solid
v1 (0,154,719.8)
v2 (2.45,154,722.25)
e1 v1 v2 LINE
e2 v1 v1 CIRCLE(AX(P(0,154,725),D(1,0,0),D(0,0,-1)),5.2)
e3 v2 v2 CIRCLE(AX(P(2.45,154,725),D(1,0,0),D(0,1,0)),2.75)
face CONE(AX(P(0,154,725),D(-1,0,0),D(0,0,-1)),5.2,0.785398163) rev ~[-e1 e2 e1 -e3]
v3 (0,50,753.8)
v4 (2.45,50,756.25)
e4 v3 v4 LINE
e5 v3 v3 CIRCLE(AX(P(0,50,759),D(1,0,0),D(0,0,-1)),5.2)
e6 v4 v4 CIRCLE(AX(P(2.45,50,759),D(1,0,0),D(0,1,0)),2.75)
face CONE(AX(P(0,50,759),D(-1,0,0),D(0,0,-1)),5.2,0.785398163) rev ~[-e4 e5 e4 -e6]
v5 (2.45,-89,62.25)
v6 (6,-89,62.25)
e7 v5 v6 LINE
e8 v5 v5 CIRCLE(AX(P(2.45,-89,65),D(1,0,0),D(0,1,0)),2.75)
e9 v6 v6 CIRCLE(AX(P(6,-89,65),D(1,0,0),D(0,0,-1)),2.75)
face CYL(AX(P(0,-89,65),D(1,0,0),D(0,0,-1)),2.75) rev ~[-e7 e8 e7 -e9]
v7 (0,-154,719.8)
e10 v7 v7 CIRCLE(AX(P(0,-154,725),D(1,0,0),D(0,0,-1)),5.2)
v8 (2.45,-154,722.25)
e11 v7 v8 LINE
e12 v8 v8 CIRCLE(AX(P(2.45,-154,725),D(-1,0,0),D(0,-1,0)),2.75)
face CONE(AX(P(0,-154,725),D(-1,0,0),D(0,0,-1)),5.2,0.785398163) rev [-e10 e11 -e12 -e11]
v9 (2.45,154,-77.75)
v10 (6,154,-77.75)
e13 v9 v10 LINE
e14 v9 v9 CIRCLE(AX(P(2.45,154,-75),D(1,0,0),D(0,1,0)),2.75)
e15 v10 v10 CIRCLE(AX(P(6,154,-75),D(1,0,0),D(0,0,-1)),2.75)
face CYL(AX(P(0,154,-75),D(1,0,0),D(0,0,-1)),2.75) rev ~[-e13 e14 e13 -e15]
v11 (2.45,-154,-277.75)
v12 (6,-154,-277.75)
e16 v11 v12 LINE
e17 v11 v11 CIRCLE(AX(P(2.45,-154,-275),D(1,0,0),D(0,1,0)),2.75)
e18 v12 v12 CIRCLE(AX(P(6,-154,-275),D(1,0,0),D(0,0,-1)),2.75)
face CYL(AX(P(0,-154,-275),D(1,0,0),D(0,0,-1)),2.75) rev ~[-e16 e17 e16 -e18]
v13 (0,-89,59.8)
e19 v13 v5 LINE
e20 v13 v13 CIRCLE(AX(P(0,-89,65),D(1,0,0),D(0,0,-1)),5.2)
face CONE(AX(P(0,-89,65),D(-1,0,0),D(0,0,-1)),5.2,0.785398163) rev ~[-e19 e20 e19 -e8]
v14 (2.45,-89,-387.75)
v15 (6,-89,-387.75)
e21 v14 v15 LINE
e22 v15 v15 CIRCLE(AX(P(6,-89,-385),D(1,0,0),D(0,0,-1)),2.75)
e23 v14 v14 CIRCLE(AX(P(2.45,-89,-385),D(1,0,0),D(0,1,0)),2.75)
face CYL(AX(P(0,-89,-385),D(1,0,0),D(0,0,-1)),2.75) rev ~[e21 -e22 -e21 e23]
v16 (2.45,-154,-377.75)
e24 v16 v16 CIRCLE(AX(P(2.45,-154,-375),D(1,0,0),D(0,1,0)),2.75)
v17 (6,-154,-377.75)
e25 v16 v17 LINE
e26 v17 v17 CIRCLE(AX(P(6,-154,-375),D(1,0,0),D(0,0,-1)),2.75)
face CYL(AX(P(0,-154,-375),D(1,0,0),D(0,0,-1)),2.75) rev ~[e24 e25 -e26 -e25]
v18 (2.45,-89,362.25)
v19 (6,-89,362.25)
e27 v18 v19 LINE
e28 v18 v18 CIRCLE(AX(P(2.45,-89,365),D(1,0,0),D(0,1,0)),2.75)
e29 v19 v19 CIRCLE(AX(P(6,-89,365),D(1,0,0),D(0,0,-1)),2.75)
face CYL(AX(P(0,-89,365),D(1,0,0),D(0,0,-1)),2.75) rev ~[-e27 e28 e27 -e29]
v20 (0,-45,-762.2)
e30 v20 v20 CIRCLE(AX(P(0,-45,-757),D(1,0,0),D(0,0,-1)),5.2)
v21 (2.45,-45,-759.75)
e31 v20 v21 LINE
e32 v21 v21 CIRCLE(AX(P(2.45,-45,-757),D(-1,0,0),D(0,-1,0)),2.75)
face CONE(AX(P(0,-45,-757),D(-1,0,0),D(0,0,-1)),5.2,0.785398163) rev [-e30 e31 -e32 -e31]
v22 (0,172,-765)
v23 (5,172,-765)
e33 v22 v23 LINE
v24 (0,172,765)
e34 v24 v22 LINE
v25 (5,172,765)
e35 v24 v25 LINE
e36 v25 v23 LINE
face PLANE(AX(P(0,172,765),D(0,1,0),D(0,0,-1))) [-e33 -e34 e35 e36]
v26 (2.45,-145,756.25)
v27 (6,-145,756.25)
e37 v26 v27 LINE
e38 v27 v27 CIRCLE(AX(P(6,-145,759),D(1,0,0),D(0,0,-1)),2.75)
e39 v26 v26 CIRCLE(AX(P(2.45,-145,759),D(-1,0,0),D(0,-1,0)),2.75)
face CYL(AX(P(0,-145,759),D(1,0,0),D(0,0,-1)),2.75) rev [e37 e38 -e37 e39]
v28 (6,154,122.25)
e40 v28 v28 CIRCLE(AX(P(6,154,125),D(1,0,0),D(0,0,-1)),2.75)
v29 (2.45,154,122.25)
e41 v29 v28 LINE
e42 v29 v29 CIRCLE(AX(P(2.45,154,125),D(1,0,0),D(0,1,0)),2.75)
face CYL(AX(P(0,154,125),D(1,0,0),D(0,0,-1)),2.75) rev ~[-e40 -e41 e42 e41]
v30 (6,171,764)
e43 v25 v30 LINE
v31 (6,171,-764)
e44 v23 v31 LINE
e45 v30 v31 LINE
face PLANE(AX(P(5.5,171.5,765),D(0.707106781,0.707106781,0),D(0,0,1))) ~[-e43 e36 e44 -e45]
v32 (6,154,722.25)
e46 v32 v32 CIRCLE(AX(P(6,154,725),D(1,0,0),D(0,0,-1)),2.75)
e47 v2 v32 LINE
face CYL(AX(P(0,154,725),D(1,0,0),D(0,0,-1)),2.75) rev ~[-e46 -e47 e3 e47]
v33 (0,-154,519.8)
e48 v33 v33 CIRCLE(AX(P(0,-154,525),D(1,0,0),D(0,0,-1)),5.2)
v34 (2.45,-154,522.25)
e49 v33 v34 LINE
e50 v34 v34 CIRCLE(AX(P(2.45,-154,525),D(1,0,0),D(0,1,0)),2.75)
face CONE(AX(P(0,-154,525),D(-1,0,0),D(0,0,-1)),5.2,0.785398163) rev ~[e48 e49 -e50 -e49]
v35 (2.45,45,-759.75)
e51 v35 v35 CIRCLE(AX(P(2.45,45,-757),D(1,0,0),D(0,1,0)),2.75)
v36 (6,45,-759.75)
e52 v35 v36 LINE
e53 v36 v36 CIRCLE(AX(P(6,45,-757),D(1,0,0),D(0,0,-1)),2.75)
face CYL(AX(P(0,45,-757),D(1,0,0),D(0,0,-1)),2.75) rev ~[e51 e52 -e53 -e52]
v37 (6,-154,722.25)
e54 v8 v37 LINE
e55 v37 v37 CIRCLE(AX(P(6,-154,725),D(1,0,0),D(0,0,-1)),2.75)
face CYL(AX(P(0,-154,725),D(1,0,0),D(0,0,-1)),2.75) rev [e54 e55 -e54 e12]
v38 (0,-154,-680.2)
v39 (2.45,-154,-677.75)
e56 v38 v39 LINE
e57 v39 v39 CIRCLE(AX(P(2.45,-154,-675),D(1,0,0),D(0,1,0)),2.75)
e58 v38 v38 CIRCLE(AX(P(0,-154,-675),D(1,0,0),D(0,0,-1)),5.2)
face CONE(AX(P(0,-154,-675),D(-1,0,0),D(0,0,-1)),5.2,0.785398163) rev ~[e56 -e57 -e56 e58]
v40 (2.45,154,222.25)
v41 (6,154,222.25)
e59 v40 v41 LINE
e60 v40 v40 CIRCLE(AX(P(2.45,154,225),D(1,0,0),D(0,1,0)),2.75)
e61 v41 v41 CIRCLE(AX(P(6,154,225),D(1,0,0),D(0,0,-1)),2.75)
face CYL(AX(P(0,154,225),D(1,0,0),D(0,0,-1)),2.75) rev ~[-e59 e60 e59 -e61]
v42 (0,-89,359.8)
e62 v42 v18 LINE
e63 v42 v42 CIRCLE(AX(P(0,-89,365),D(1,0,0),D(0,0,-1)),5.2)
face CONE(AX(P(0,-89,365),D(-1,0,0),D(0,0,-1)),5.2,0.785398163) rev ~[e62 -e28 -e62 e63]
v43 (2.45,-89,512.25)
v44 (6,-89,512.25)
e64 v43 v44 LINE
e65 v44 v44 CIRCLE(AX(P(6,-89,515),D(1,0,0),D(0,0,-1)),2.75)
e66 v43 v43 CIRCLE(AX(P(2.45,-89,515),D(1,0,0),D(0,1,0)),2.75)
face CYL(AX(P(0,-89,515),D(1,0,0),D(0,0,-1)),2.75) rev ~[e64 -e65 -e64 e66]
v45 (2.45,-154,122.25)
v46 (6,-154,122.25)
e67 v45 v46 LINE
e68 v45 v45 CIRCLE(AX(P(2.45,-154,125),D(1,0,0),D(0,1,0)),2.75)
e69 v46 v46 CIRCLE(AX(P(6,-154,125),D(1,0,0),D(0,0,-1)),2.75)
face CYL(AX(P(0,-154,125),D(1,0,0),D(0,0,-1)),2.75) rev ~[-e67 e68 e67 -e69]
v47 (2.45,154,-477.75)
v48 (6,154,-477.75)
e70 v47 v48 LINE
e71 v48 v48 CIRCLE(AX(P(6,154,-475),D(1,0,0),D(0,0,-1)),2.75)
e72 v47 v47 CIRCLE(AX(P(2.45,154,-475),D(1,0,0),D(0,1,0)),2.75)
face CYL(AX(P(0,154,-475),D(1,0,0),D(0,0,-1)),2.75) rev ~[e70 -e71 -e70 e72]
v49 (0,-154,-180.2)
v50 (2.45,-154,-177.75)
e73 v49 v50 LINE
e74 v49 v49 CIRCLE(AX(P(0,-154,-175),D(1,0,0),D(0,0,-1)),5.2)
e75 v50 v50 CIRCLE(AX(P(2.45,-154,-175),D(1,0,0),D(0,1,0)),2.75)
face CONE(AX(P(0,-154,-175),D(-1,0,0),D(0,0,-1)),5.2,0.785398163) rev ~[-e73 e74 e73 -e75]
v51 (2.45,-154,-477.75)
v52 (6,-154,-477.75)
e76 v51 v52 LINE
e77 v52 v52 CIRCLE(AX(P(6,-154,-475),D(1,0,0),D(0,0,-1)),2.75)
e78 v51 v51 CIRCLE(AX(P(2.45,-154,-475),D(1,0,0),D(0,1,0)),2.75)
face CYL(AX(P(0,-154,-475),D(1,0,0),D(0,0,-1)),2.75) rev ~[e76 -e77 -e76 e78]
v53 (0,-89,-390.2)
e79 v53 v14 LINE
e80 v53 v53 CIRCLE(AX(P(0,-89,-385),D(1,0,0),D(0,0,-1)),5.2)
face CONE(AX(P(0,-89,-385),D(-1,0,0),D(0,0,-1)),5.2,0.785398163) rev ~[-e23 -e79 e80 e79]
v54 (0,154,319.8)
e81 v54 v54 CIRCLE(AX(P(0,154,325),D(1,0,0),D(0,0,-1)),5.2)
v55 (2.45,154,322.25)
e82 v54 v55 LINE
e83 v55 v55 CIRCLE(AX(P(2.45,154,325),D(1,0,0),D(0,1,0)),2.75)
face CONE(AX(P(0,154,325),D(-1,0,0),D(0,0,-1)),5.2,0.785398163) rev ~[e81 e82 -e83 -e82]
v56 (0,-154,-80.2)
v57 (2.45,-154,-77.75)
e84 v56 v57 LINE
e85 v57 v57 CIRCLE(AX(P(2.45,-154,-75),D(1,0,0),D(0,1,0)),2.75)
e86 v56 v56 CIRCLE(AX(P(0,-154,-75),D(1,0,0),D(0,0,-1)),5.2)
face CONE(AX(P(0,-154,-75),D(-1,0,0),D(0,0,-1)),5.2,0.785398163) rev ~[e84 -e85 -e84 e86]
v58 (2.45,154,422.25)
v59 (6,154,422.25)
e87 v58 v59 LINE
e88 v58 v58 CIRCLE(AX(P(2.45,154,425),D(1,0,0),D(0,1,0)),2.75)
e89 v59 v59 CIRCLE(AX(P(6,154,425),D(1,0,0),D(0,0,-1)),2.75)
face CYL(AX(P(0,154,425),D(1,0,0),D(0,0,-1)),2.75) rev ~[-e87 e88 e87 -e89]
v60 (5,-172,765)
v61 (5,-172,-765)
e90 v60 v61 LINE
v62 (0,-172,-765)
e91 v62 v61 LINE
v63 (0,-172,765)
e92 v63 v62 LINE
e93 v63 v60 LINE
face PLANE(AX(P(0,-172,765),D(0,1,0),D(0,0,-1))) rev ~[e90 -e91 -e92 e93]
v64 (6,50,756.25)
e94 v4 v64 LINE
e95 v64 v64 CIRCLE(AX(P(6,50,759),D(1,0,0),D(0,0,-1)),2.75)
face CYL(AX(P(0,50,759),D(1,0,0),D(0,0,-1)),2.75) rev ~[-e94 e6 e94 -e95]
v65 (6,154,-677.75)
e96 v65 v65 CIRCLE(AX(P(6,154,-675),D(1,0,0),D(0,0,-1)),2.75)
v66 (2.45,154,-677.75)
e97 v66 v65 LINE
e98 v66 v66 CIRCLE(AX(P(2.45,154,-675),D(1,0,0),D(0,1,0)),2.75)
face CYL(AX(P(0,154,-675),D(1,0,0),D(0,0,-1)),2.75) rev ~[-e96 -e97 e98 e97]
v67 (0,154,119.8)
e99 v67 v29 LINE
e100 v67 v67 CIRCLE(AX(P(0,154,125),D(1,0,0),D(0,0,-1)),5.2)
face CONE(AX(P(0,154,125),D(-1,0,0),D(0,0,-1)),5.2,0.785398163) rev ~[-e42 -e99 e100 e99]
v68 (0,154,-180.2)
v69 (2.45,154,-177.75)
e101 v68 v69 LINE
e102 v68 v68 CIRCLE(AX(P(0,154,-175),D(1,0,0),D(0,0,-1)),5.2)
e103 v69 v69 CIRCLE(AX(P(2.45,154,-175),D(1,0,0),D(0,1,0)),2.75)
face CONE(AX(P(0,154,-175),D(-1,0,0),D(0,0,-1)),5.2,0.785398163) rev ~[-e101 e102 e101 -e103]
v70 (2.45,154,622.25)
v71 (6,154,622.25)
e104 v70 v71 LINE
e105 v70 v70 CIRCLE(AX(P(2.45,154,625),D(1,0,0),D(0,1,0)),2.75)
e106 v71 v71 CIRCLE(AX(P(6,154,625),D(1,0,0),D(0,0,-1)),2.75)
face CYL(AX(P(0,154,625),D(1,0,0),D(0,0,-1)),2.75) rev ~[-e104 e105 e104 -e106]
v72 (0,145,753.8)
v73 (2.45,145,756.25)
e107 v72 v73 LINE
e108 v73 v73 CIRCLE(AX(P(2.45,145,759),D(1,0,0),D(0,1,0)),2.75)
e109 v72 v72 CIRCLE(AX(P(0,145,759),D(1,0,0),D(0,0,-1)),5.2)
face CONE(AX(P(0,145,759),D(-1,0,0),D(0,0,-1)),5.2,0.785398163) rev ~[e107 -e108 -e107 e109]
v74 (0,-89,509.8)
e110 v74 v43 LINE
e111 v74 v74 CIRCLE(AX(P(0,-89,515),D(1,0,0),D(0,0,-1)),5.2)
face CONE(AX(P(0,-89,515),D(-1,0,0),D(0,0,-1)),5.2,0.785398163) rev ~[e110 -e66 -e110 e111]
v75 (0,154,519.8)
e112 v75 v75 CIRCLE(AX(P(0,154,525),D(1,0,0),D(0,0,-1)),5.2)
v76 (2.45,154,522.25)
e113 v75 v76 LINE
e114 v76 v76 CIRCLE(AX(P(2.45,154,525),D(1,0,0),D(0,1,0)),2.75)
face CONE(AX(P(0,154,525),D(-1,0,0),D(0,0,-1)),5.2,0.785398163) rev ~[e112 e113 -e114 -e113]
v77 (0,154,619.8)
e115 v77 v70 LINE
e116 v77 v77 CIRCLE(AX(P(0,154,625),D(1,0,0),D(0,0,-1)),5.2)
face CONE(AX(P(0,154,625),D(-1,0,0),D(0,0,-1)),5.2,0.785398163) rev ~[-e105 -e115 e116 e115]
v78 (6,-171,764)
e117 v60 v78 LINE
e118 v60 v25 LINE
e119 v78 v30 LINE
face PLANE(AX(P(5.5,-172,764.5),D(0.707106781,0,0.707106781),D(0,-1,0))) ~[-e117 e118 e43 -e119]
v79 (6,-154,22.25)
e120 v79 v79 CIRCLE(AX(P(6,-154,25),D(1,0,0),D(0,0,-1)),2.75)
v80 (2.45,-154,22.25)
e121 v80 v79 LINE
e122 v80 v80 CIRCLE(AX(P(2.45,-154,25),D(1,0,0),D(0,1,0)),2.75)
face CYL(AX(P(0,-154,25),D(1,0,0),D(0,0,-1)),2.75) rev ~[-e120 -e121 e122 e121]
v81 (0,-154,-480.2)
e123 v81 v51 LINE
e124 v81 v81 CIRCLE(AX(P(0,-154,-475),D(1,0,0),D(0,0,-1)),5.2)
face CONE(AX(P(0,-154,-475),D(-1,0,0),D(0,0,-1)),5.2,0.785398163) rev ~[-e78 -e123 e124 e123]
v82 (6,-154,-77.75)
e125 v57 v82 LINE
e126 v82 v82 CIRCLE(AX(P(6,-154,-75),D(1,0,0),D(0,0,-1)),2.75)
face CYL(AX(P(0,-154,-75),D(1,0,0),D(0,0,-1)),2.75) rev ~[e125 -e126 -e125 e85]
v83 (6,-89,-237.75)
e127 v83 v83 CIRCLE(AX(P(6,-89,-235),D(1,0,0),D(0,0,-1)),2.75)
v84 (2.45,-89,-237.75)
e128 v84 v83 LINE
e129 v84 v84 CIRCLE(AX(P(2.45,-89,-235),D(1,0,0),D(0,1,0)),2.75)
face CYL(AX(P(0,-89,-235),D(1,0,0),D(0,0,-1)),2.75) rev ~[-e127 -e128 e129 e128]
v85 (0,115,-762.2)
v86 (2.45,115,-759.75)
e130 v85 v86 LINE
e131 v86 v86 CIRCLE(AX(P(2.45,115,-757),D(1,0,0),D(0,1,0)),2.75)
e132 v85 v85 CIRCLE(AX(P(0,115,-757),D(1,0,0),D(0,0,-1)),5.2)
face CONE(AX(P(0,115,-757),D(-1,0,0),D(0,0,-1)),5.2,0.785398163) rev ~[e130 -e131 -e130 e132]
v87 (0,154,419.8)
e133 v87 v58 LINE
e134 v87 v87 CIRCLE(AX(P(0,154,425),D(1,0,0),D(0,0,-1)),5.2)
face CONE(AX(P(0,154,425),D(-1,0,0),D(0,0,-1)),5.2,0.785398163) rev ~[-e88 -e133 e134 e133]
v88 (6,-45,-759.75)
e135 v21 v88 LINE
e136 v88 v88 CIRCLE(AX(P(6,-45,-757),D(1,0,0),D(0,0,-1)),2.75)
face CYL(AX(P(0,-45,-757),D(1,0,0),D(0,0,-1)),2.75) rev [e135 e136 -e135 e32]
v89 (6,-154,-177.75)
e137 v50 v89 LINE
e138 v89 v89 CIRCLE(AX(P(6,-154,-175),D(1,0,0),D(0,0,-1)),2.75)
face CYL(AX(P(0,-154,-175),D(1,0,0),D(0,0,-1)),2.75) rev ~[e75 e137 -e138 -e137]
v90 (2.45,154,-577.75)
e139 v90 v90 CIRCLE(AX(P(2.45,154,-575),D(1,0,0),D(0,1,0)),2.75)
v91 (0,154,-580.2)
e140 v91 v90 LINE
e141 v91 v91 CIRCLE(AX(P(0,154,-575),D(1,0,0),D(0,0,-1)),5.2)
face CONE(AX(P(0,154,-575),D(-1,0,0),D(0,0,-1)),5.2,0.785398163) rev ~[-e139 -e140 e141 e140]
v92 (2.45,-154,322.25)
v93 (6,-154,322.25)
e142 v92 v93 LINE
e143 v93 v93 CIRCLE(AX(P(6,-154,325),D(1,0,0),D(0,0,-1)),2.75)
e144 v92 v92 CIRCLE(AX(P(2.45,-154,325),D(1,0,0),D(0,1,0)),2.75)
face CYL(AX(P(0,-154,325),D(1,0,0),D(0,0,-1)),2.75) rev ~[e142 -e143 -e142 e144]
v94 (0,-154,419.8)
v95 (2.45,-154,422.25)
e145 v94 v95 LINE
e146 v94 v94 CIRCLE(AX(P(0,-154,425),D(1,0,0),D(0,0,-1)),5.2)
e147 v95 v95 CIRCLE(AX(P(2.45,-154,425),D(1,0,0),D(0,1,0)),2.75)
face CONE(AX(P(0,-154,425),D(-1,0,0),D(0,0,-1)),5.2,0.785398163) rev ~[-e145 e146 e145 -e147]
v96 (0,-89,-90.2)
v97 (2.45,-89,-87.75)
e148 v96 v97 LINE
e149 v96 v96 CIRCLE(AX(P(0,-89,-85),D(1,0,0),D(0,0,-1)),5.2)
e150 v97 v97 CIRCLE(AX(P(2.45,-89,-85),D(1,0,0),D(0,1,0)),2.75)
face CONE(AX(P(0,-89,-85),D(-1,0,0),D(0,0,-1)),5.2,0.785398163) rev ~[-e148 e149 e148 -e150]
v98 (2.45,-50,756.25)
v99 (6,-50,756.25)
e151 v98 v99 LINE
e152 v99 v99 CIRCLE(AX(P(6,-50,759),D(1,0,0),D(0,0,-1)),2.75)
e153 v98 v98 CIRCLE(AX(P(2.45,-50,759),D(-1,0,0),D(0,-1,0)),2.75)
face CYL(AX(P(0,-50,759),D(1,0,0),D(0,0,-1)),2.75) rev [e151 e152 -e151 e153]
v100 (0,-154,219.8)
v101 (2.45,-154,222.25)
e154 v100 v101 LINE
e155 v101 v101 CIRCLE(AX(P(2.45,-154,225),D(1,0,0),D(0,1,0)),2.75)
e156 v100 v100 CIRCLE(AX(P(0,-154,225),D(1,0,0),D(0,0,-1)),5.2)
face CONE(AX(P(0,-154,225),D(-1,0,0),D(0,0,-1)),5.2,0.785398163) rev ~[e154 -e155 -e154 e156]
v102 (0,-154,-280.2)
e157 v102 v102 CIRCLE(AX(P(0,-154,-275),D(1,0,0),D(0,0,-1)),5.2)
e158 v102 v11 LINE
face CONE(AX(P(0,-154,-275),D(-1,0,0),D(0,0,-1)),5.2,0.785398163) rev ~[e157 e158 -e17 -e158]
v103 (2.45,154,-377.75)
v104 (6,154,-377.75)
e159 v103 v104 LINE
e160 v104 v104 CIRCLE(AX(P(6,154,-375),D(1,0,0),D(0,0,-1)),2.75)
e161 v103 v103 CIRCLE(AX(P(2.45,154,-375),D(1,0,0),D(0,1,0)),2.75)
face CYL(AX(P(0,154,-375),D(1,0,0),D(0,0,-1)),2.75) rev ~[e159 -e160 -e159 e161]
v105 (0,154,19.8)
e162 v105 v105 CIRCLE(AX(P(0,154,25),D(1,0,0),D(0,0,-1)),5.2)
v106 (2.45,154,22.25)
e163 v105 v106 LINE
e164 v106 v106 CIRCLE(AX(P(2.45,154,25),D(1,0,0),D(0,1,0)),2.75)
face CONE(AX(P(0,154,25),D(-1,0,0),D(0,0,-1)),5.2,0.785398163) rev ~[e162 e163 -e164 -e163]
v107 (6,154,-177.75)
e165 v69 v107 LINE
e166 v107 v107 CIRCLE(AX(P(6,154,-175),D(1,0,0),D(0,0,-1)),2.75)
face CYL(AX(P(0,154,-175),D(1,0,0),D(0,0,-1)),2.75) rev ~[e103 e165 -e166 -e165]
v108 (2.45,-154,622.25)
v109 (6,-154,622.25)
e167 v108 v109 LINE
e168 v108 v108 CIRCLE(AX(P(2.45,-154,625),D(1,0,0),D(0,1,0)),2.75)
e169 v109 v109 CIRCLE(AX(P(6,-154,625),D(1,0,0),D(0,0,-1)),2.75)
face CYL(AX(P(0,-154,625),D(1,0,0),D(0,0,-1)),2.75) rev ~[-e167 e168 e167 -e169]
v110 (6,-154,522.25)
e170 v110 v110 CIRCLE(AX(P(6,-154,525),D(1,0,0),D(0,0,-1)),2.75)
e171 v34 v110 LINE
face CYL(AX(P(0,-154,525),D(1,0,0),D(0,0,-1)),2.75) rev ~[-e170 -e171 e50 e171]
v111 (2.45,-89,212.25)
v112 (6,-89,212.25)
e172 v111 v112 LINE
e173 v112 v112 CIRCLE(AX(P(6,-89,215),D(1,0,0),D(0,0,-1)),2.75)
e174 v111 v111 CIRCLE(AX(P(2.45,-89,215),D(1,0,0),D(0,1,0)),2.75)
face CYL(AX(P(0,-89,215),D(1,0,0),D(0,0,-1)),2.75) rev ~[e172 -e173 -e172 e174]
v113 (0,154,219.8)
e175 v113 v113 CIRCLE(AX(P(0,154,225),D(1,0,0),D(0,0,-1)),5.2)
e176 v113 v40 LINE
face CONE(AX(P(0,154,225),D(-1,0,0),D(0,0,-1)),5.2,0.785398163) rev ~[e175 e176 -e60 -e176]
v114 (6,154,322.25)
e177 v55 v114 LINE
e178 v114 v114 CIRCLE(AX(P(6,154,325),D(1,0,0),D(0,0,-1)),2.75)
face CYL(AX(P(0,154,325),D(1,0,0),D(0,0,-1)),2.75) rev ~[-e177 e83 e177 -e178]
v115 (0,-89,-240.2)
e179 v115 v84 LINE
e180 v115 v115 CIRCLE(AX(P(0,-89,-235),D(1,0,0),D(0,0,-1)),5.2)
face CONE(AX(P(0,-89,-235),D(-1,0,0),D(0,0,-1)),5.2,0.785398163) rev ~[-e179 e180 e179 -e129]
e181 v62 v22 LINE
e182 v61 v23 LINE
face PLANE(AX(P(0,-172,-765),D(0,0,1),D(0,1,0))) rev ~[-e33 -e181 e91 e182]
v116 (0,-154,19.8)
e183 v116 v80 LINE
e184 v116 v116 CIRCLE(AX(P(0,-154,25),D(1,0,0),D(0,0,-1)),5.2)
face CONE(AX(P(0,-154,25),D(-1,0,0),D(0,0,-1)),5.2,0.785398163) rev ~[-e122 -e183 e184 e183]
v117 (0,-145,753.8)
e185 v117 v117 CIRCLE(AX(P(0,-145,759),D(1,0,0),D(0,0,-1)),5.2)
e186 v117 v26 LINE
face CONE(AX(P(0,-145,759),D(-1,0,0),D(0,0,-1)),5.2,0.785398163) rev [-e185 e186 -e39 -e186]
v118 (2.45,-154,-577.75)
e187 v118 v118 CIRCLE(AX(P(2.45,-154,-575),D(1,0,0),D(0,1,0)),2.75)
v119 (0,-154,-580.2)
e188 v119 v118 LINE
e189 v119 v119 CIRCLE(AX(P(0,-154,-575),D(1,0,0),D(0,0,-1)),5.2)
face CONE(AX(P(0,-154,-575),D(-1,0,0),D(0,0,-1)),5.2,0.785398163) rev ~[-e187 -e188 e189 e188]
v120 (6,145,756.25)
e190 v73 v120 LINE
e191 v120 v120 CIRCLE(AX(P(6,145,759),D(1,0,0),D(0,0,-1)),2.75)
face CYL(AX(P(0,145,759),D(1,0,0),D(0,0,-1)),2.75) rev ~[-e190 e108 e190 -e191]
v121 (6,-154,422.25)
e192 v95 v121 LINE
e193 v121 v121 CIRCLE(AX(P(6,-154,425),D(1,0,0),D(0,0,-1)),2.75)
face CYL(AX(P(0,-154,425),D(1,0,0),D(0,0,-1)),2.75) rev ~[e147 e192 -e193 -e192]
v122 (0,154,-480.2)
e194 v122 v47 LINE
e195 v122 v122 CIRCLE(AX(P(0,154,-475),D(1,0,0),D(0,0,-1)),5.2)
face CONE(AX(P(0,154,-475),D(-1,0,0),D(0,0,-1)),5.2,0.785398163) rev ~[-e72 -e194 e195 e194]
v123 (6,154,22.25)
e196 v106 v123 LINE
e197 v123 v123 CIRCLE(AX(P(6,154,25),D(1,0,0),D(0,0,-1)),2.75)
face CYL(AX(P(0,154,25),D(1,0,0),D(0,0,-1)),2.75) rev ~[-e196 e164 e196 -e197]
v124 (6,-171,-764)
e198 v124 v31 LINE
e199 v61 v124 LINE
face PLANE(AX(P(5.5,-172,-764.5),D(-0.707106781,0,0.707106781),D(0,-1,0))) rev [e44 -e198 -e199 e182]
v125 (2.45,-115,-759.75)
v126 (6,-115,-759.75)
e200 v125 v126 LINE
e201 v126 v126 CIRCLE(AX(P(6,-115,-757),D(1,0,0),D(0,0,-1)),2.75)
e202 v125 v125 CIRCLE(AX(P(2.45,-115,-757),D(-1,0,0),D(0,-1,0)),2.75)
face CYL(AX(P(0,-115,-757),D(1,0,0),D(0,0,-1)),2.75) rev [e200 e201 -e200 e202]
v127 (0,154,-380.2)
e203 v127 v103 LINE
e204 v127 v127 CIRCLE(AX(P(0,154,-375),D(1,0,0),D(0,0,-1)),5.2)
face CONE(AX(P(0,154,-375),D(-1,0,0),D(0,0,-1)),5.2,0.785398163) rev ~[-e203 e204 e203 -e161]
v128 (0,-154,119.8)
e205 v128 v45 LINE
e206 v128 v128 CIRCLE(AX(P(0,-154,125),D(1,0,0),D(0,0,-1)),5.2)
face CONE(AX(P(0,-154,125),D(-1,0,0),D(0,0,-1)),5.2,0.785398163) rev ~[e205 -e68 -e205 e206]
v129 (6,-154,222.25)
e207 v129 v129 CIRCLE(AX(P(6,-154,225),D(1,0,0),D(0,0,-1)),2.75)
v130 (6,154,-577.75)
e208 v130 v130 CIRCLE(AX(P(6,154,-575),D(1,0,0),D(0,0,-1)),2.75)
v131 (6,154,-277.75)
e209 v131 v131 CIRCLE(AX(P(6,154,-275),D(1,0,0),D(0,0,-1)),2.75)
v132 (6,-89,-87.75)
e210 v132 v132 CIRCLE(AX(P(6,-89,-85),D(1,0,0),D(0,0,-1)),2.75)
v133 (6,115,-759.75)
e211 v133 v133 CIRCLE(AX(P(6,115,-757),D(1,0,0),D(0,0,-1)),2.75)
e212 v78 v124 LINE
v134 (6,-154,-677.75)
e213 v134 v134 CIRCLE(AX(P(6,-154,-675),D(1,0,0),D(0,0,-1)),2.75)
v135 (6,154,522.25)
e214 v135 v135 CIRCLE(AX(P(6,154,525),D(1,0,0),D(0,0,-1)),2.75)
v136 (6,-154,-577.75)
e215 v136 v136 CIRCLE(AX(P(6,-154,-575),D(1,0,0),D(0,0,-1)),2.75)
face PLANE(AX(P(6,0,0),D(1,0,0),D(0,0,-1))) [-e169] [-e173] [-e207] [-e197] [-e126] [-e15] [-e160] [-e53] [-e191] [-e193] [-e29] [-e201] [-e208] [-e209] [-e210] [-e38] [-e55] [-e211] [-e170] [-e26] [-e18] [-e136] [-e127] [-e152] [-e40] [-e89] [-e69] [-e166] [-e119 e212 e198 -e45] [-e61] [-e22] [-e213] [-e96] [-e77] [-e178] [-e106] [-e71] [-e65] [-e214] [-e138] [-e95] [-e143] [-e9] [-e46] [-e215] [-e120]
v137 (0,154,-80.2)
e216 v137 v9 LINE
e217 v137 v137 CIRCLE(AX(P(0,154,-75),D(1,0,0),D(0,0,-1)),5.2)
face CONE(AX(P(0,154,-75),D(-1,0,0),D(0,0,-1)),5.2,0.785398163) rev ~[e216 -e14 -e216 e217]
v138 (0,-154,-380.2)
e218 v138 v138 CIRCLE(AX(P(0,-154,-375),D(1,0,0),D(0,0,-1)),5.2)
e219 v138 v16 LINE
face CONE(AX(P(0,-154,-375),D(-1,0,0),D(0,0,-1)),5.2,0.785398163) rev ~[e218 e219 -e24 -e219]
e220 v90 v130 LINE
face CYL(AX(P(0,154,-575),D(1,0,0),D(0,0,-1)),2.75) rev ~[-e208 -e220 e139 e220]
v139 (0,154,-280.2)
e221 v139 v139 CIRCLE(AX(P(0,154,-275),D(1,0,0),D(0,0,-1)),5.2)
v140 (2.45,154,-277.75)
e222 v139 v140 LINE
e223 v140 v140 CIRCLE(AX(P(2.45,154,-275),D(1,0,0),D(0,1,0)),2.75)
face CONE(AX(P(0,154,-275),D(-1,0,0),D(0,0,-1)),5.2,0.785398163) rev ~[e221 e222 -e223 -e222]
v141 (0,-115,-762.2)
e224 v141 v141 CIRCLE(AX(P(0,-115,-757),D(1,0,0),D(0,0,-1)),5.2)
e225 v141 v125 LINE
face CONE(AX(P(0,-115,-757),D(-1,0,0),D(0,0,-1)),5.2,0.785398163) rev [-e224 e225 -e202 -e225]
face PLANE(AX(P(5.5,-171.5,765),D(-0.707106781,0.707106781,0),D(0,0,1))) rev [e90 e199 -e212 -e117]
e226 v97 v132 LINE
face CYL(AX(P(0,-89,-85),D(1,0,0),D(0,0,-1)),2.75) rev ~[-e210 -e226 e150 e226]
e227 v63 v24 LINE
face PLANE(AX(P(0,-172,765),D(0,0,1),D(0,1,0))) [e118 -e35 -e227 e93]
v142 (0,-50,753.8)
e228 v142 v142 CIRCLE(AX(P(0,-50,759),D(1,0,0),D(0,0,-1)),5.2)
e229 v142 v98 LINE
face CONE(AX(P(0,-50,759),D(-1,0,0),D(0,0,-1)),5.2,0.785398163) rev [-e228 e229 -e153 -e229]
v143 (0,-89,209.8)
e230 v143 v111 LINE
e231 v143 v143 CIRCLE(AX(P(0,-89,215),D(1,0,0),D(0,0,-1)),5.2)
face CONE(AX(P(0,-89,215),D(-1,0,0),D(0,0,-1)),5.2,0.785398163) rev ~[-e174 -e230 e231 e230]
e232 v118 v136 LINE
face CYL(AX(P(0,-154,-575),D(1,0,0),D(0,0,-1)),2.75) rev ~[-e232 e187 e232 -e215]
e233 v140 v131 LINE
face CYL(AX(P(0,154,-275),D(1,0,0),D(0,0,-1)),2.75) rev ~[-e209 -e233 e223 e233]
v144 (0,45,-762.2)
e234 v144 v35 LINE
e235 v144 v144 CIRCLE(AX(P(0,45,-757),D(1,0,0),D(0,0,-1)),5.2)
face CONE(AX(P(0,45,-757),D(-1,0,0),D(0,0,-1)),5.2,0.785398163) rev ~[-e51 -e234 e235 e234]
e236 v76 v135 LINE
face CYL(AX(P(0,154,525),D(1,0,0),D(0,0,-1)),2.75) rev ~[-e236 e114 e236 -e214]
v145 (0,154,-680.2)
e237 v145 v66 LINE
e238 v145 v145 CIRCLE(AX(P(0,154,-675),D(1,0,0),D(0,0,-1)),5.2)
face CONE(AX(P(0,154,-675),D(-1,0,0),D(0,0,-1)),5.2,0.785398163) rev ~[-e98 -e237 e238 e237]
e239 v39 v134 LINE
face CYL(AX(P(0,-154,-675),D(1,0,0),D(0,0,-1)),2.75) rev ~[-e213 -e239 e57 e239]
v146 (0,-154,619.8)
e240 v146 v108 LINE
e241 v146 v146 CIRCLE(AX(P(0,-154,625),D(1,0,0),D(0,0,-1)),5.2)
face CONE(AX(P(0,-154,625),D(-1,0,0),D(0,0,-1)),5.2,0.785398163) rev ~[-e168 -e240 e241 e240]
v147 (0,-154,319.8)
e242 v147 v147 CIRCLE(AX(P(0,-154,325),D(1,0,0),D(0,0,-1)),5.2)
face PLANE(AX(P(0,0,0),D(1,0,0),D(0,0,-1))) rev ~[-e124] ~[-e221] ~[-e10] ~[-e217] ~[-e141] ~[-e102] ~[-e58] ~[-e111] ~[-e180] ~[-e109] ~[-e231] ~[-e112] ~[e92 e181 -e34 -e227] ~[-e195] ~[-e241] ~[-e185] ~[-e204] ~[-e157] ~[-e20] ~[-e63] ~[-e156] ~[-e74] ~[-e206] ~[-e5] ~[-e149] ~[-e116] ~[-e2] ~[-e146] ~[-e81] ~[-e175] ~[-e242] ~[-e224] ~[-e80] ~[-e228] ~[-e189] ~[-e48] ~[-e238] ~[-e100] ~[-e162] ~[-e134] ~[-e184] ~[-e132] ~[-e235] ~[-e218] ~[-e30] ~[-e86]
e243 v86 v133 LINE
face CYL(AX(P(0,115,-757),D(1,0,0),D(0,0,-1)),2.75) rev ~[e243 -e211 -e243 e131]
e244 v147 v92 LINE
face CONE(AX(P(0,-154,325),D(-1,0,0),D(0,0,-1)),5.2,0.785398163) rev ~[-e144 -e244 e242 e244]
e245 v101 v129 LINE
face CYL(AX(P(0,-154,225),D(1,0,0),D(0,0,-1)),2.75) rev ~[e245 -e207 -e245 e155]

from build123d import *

# Parameters (mm, degrees)
SKETCH1_W                                            = 1530
SKETCH1_H                                            = 344
BOSS_EXTRUDE1_DEPTH                                  = 6
FASE1_SIZE                                           = 1
CSK_FOR_M5_COUNTERSUNK_RAISED_HEAD_SCREW_D           = 5.5
CSK_FOR_M5_COUNTERSUNK_RAISED_HEAD_SCREW_CSINK_D     = 10.4
CSK_FOR_M5_COUNTERSUNK_RAISED_HEAD_SCREW_CSINK_ANGLE = 90
CSK_FOR_M5_COUNTERSUNK_RAISED_HEAD_S_2_D             = 5.5
CSK_FOR_M5_COUNTERSUNK_RAISED_HEAD_S_2_CSINK_D       = 10.4
CSK_FOR_M5_COUNTERSUNK_RAISED_HEAD_S_2_CSINK_ANGLE   = 90
LPATTERN1_COUNT                                      = 15
LPATTERN1_PITCH                                      = 100
SPIEGELN1_COPY_1_D                                   = 5.5
SPIEGELN1_COPY_1_CSINK_D                             = 10.4
SPIEGELN1_COPY_1_CSINK_ANGLE                         = 90
SPIEGELN1_COPY_2_D                                   = 5.5
SPIEGELN1_COPY_2_CSINK_D                             = 10.4
SPIEGELN1_COPY_2_CSINK_ANGLE                         = 90
SPIEGELN1_COPY_3_D                                   = 5.5
SPIEGELN1_COPY_3_CSINK_D                             = 10.4
SPIEGELN1_COPY_3_CSINK_ANGLE                         = 90
SPIEGELN1_COPY_4_D                                   = 5.5
SPIEGELN1_COPY_4_CSINK_D                             = 10.4
SPIEGELN1_COPY_4_CSINK_ANGLE                         = 90
SPIEGELN1_COPY_5_D                                   = 5.5
SPIEGELN1_COPY_5_CSINK_D                             = 10.4
SPIEGELN1_COPY_5_CSINK_ANGLE                         = 90
SPIEGELN1_COPY_6_D                                   = 5.5
SPIEGELN1_COPY_6_CSINK_D                             = 10.4
SPIEGELN1_COPY_6_CSINK_ANGLE                         = 90
SPIEGELN1_COPY_7_D                                   = 5.5
SPIEGELN1_COPY_7_CSINK_D                             = 10.4
SPIEGELN1_COPY_7_CSINK_ANGLE                         = 90
SPIEGELN1_COPY_8_D                                   = 5.5
SPIEGELN1_COPY_8_CSINK_D                             = 10.4
SPIEGELN1_COPY_8_CSINK_ANGLE                         = 90
SPIEGELN1_COPY_9_D                                   = 5.5
SPIEGELN1_COPY_9_CSINK_D                             = 10.4
SPIEGELN1_COPY_9_CSINK_ANGLE                         = 90
SPIEGELN1_COPY_10_D                                  = 5.5
SPIEGELN1_COPY_10_CSINK_D                            = 10.4
SPIEGELN1_COPY_10_CSINK_ANGLE                        = 90
SPIEGELN1_COPY_11_D                                  = 5.5
SPIEGELN1_COPY_11_CSINK_D                            = 10.4
SPIEGELN1_COPY_11_CSINK_ANGLE                        = 90
SPIEGELN1_COPY_12_D                                  = 5.5
SPIEGELN1_COPY_12_CSINK_D                            = 10.4
SPIEGELN1_COPY_12_CSINK_ANGLE                        = 90
SPIEGELN1_COPY_13_D                                  = 5.5
SPIEGELN1_COPY_13_CSINK_D                            = 10.4
SPIEGELN1_COPY_13_CSINK_ANGLE                        = 90
SPIEGELN1_COPY_14_D                                  = 5.5
SPIEGELN1_COPY_14_CSINK_D                            = 10.4
SPIEGELN1_COPY_14_CSINK_ANGLE                        = 90
CSK_FOR_M5_COUNTERSUNK_RAISED_HEAD_S_3_D             = 5.5
CSK_FOR_M5_COUNTERSUNK_RAISED_HEAD_S_3_CSINK_D       = 10.4
CSK_FOR_M5_COUNTERSUNK_RAISED_HEAD_S_3_CSINK_ANGLE   = 90
LINEARES_MUSTER1_COUNT                               = 7
LINEARES_MUSTER1_PITCH                               = 150


with BuildPart() as part:
    # Sketch1 → Boss-Extrude1 (new body)
    with BuildSketch(Plane(origin=(0, 0, 0), x_dir=(0, 0, -1), z_dir=(1, 0, 0))):
        Rectangle(SKETCH1_W, SKETCH1_H)
    extrude(amount=BOSS_EXTRUDE1_DEPTH)

    # Fase1
    fase1_edges = [part.edges().sort_by_distance(p)[0] for p in [
        (6, 0, -765),
        (6, 172, 0),
        (6, 0, 765),
        (6, -172, 0),
    ]]
    chamfer(fase1_edges, length=FASE1_SIZE)

    # CSK for M5 Countersunk Raised Head Screw (through all)
    with Locations(Plane.ZY):
        with Locations((-757, 115), (-757, 45), (759, 145), (759, 50)):
            csk_for_m5_countersunk_raised_head_screw = CounterSinkHole(CSK_FOR_M5_COUNTERSUNK_RAISED_HEAD_SCREW_D / 2, CSK_FOR_M5_COUNTERSUNK_RAISED_HEAD_SCREW_CSINK_D / 2, counter_sink_angle=CSK_FOR_M5_COUNTERSUNK_RAISED_HEAD_SCREW_CSINK_ANGLE)

    # CSK for M5 Countersunk Raised Head S 2 (through all)
    with Locations(Plane.ZY):
        with Locations((725, 154)):
            csk_for_m5_countersunk_raised_head_s_2 = CounterSinkHole(CSK_FOR_M5_COUNTERSUNK_RAISED_HEAD_S_2_D / 2, CSK_FOR_M5_COUNTERSUNK_RAISED_HEAD_S_2_CSINK_D / 2, counter_sink_angle=CSK_FOR_M5_COUNTERSUNK_RAISED_HEAD_S_2_CSINK_ANGLE)

    # LPattern1: CSK for M5 Countersunk Raised Head S 2 ×15
    with Locations(*[(0, 0, -i * LPATTERN1_PITCH) for i in range(1, LPATTERN1_COUNT)]):
        add(csk_for_m5_countersunk_raised_head_s_2, mode=Mode.SUBTRACT)

    # Spiegeln1: CSK for M5 Countersunk Raised Head Screw, CSK for M5 Countersunk Raised Head S 2 across plane
    add(csk_for_m5_countersunk_raised_head_screw.mirror(Plane.ZX), mode=Mode.SUBTRACT)
    add(csk_for_m5_countersunk_raised_head_s_2.mirror(Plane.ZX), mode=Mode.SUBTRACT)

    # Spiegeln1 copy 1 (through all)
    with Locations(Plane(origin=(0, 0, -100), x_dir=(0, 0, 1), z_dir=(-1, 0, 0))):
        with Locations((725, -154)):
            CounterSinkHole(SPIEGELN1_COPY_1_D / 2, SPIEGELN1_COPY_1_CSINK_D / 2, counter_sink_angle=SPIEGELN1_COPY_1_CSINK_ANGLE)

    # Spiegeln1 copy 2 (through all)
    with Locations(Plane(origin=(0, 0, -200), x_dir=(0, 0, 1), z_dir=(-1, 0, 0))):
        with Locations((725, -154)):
            CounterSinkHole(SPIEGELN1_COPY_2_D / 2, SPIEGELN1_COPY_2_CSINK_D / 2, counter_sink_angle=SPIEGELN1_COPY_2_CSINK_ANGLE)

    # Spiegeln1 copy 3 (through all)
    with Locations(Plane(origin=(0, 0, -300), x_dir=(0, 0, 1), z_dir=(-1, 0, 0))):
        with Locations((725, -154)):
            CounterSinkHole(SPIEGELN1_COPY_3_D / 2, SPIEGELN1_COPY_3_CSINK_D / 2, counter_sink_angle=SPIEGELN1_COPY_3_CSINK_ANGLE)

    # Spiegeln1 copy 4 (through all)
    with Locations(Plane(origin=(0, 0, -400), x_dir=(0, 0, 1), z_dir=(-1, 0, 0))):
        with Locations((725, -154)):
            CounterSinkHole(SPIEGELN1_COPY_4_D / 2, SPIEGELN1_COPY_4_CSINK_D / 2, counter_sink_angle=SPIEGELN1_COPY_4_CSINK_ANGLE)

    # Spiegeln1 copy 5 (through all)
    with Locations(Plane(origin=(0, 0, -500), x_dir=(0, 0, 1), z_dir=(-1, 0, 0))):
        with Locations((725, -154)):
            CounterSinkHole(SPIEGELN1_COPY_5_D / 2, SPIEGELN1_COPY_5_CSINK_D / 2, counter_sink_angle=SPIEGELN1_COPY_5_CSINK_ANGLE)

    # Spiegeln1 copy 6 (through all)
    with Locations(Plane(origin=(0, 0, -600), x_dir=(0, 0, 1), z_dir=(-1, 0, 0))):
        with Locations((725, -154)):
            CounterSinkHole(SPIEGELN1_COPY_6_D / 2, SPIEGELN1_COPY_6_CSINK_D / 2, counter_sink_angle=SPIEGELN1_COPY_6_CSINK_ANGLE)

    # Spiegeln1 copy 7 (through all)
    with Locations(Plane(origin=(0, 0, -700), x_dir=(0, 0, 1), z_dir=(-1, 0, 0))):
        with Locations((725, -154)):
            CounterSinkHole(SPIEGELN1_COPY_7_D / 2, SPIEGELN1_COPY_7_CSINK_D / 2, counter_sink_angle=SPIEGELN1_COPY_7_CSINK_ANGLE)

    # Spiegeln1 copy 8 (through all)
    with Locations(Plane(origin=(0, 0, -800), x_dir=(0, 0, 1), z_dir=(-1, 0, 0))):
        with Locations((725, -154)):
            CounterSinkHole(SPIEGELN1_COPY_8_D / 2, SPIEGELN1_COPY_8_CSINK_D / 2, counter_sink_angle=SPIEGELN1_COPY_8_CSINK_ANGLE)

    # Spiegeln1 copy 9 (through all)
    with Locations(Plane(origin=(0, 0, -900), x_dir=(0, 0, 1), z_dir=(-1, 0, 0))):
        with Locations((725, -154)):
            CounterSinkHole(SPIEGELN1_COPY_9_D / 2, SPIEGELN1_COPY_9_CSINK_D / 2, counter_sink_angle=SPIEGELN1_COPY_9_CSINK_ANGLE)

    # Spiegeln1 copy 10 (through all)
    with Locations(Plane(origin=(0, 0, -1000), x_dir=(0, 0, 1), z_dir=(-1, 0, 0))):
        with Locations((725, -154)):
            CounterSinkHole(SPIEGELN1_COPY_10_D / 2, SPIEGELN1_COPY_10_CSINK_D / 2, counter_sink_angle=SPIEGELN1_COPY_10_CSINK_ANGLE)

    # Spiegeln1 copy 11 (through all)
    with Locations(Plane(origin=(0, 0, -1100), x_dir=(0, 0, 1), z_dir=(-1, 0, 0))):
        with Locations((725, -154)):
            CounterSinkHole(SPIEGELN1_COPY_11_D / 2, SPIEGELN1_COPY_11_CSINK_D / 2, counter_sink_angle=SPIEGELN1_COPY_11_CSINK_ANGLE)

    # Spiegeln1 copy 12 (through all)
    with Locations(Plane(origin=(0, 0, -1200), x_dir=(0, 0, 1), z_dir=(-1, 0, 0))):
        with Locations((725, -154)):
            CounterSinkHole(SPIEGELN1_COPY_12_D / 2, SPIEGELN1_COPY_12_CSINK_D / 2, counter_sink_angle=SPIEGELN1_COPY_12_CSINK_ANGLE)

    # Spiegeln1 copy 13 (through all)
    with Locations(Plane(origin=(0, 0, -1300), x_dir=(0, 0, 1), z_dir=(-1, 0, 0))):
        with Locations((725, -154)):
            CounterSinkHole(SPIEGELN1_COPY_13_D / 2, SPIEGELN1_COPY_13_CSINK_D / 2, counter_sink_angle=SPIEGELN1_COPY_13_CSINK_ANGLE)

    # Spiegeln1 copy 14 (through all)
    with Locations(Plane(origin=(0, 0, -1400), x_dir=(0, 0, 1), z_dir=(-1, 0, 0))):
        with Locations((725, -154)):
            CounterSinkHole(SPIEGELN1_COPY_14_D / 2, SPIEGELN1_COPY_14_CSINK_D / 2, counter_sink_angle=SPIEGELN1_COPY_14_CSINK_ANGLE)

    # CSK for M5 Countersunk Raised Head S 3 (through all)
    with Locations(Plane.ZY):
        with Locations((515, -89)):
            csk_for_m5_countersunk_raised_head_s_3 = CounterSinkHole(CSK_FOR_M5_COUNTERSUNK_RAISED_HEAD_S_3_D / 2, CSK_FOR_M5_COUNTERSUNK_RAISED_HEAD_S_3_CSINK_D / 2, counter_sink_angle=CSK_FOR_M5_COUNTERSUNK_RAISED_HEAD_S_3_CSINK_ANGLE)

    # Lineares Muster1: CSK for M5 Countersunk Raised Head S 3 ×7
    with Locations(*[(0, 0, -i * LINEARES_MUSTER1_PITCH) for i in range(1, LINEARES_MUSTER1_COUNT)]):
        add(csk_for_m5_countersunk_raised_head_s_3, mode=Mode.SUBTRACT)


solid = part.part
